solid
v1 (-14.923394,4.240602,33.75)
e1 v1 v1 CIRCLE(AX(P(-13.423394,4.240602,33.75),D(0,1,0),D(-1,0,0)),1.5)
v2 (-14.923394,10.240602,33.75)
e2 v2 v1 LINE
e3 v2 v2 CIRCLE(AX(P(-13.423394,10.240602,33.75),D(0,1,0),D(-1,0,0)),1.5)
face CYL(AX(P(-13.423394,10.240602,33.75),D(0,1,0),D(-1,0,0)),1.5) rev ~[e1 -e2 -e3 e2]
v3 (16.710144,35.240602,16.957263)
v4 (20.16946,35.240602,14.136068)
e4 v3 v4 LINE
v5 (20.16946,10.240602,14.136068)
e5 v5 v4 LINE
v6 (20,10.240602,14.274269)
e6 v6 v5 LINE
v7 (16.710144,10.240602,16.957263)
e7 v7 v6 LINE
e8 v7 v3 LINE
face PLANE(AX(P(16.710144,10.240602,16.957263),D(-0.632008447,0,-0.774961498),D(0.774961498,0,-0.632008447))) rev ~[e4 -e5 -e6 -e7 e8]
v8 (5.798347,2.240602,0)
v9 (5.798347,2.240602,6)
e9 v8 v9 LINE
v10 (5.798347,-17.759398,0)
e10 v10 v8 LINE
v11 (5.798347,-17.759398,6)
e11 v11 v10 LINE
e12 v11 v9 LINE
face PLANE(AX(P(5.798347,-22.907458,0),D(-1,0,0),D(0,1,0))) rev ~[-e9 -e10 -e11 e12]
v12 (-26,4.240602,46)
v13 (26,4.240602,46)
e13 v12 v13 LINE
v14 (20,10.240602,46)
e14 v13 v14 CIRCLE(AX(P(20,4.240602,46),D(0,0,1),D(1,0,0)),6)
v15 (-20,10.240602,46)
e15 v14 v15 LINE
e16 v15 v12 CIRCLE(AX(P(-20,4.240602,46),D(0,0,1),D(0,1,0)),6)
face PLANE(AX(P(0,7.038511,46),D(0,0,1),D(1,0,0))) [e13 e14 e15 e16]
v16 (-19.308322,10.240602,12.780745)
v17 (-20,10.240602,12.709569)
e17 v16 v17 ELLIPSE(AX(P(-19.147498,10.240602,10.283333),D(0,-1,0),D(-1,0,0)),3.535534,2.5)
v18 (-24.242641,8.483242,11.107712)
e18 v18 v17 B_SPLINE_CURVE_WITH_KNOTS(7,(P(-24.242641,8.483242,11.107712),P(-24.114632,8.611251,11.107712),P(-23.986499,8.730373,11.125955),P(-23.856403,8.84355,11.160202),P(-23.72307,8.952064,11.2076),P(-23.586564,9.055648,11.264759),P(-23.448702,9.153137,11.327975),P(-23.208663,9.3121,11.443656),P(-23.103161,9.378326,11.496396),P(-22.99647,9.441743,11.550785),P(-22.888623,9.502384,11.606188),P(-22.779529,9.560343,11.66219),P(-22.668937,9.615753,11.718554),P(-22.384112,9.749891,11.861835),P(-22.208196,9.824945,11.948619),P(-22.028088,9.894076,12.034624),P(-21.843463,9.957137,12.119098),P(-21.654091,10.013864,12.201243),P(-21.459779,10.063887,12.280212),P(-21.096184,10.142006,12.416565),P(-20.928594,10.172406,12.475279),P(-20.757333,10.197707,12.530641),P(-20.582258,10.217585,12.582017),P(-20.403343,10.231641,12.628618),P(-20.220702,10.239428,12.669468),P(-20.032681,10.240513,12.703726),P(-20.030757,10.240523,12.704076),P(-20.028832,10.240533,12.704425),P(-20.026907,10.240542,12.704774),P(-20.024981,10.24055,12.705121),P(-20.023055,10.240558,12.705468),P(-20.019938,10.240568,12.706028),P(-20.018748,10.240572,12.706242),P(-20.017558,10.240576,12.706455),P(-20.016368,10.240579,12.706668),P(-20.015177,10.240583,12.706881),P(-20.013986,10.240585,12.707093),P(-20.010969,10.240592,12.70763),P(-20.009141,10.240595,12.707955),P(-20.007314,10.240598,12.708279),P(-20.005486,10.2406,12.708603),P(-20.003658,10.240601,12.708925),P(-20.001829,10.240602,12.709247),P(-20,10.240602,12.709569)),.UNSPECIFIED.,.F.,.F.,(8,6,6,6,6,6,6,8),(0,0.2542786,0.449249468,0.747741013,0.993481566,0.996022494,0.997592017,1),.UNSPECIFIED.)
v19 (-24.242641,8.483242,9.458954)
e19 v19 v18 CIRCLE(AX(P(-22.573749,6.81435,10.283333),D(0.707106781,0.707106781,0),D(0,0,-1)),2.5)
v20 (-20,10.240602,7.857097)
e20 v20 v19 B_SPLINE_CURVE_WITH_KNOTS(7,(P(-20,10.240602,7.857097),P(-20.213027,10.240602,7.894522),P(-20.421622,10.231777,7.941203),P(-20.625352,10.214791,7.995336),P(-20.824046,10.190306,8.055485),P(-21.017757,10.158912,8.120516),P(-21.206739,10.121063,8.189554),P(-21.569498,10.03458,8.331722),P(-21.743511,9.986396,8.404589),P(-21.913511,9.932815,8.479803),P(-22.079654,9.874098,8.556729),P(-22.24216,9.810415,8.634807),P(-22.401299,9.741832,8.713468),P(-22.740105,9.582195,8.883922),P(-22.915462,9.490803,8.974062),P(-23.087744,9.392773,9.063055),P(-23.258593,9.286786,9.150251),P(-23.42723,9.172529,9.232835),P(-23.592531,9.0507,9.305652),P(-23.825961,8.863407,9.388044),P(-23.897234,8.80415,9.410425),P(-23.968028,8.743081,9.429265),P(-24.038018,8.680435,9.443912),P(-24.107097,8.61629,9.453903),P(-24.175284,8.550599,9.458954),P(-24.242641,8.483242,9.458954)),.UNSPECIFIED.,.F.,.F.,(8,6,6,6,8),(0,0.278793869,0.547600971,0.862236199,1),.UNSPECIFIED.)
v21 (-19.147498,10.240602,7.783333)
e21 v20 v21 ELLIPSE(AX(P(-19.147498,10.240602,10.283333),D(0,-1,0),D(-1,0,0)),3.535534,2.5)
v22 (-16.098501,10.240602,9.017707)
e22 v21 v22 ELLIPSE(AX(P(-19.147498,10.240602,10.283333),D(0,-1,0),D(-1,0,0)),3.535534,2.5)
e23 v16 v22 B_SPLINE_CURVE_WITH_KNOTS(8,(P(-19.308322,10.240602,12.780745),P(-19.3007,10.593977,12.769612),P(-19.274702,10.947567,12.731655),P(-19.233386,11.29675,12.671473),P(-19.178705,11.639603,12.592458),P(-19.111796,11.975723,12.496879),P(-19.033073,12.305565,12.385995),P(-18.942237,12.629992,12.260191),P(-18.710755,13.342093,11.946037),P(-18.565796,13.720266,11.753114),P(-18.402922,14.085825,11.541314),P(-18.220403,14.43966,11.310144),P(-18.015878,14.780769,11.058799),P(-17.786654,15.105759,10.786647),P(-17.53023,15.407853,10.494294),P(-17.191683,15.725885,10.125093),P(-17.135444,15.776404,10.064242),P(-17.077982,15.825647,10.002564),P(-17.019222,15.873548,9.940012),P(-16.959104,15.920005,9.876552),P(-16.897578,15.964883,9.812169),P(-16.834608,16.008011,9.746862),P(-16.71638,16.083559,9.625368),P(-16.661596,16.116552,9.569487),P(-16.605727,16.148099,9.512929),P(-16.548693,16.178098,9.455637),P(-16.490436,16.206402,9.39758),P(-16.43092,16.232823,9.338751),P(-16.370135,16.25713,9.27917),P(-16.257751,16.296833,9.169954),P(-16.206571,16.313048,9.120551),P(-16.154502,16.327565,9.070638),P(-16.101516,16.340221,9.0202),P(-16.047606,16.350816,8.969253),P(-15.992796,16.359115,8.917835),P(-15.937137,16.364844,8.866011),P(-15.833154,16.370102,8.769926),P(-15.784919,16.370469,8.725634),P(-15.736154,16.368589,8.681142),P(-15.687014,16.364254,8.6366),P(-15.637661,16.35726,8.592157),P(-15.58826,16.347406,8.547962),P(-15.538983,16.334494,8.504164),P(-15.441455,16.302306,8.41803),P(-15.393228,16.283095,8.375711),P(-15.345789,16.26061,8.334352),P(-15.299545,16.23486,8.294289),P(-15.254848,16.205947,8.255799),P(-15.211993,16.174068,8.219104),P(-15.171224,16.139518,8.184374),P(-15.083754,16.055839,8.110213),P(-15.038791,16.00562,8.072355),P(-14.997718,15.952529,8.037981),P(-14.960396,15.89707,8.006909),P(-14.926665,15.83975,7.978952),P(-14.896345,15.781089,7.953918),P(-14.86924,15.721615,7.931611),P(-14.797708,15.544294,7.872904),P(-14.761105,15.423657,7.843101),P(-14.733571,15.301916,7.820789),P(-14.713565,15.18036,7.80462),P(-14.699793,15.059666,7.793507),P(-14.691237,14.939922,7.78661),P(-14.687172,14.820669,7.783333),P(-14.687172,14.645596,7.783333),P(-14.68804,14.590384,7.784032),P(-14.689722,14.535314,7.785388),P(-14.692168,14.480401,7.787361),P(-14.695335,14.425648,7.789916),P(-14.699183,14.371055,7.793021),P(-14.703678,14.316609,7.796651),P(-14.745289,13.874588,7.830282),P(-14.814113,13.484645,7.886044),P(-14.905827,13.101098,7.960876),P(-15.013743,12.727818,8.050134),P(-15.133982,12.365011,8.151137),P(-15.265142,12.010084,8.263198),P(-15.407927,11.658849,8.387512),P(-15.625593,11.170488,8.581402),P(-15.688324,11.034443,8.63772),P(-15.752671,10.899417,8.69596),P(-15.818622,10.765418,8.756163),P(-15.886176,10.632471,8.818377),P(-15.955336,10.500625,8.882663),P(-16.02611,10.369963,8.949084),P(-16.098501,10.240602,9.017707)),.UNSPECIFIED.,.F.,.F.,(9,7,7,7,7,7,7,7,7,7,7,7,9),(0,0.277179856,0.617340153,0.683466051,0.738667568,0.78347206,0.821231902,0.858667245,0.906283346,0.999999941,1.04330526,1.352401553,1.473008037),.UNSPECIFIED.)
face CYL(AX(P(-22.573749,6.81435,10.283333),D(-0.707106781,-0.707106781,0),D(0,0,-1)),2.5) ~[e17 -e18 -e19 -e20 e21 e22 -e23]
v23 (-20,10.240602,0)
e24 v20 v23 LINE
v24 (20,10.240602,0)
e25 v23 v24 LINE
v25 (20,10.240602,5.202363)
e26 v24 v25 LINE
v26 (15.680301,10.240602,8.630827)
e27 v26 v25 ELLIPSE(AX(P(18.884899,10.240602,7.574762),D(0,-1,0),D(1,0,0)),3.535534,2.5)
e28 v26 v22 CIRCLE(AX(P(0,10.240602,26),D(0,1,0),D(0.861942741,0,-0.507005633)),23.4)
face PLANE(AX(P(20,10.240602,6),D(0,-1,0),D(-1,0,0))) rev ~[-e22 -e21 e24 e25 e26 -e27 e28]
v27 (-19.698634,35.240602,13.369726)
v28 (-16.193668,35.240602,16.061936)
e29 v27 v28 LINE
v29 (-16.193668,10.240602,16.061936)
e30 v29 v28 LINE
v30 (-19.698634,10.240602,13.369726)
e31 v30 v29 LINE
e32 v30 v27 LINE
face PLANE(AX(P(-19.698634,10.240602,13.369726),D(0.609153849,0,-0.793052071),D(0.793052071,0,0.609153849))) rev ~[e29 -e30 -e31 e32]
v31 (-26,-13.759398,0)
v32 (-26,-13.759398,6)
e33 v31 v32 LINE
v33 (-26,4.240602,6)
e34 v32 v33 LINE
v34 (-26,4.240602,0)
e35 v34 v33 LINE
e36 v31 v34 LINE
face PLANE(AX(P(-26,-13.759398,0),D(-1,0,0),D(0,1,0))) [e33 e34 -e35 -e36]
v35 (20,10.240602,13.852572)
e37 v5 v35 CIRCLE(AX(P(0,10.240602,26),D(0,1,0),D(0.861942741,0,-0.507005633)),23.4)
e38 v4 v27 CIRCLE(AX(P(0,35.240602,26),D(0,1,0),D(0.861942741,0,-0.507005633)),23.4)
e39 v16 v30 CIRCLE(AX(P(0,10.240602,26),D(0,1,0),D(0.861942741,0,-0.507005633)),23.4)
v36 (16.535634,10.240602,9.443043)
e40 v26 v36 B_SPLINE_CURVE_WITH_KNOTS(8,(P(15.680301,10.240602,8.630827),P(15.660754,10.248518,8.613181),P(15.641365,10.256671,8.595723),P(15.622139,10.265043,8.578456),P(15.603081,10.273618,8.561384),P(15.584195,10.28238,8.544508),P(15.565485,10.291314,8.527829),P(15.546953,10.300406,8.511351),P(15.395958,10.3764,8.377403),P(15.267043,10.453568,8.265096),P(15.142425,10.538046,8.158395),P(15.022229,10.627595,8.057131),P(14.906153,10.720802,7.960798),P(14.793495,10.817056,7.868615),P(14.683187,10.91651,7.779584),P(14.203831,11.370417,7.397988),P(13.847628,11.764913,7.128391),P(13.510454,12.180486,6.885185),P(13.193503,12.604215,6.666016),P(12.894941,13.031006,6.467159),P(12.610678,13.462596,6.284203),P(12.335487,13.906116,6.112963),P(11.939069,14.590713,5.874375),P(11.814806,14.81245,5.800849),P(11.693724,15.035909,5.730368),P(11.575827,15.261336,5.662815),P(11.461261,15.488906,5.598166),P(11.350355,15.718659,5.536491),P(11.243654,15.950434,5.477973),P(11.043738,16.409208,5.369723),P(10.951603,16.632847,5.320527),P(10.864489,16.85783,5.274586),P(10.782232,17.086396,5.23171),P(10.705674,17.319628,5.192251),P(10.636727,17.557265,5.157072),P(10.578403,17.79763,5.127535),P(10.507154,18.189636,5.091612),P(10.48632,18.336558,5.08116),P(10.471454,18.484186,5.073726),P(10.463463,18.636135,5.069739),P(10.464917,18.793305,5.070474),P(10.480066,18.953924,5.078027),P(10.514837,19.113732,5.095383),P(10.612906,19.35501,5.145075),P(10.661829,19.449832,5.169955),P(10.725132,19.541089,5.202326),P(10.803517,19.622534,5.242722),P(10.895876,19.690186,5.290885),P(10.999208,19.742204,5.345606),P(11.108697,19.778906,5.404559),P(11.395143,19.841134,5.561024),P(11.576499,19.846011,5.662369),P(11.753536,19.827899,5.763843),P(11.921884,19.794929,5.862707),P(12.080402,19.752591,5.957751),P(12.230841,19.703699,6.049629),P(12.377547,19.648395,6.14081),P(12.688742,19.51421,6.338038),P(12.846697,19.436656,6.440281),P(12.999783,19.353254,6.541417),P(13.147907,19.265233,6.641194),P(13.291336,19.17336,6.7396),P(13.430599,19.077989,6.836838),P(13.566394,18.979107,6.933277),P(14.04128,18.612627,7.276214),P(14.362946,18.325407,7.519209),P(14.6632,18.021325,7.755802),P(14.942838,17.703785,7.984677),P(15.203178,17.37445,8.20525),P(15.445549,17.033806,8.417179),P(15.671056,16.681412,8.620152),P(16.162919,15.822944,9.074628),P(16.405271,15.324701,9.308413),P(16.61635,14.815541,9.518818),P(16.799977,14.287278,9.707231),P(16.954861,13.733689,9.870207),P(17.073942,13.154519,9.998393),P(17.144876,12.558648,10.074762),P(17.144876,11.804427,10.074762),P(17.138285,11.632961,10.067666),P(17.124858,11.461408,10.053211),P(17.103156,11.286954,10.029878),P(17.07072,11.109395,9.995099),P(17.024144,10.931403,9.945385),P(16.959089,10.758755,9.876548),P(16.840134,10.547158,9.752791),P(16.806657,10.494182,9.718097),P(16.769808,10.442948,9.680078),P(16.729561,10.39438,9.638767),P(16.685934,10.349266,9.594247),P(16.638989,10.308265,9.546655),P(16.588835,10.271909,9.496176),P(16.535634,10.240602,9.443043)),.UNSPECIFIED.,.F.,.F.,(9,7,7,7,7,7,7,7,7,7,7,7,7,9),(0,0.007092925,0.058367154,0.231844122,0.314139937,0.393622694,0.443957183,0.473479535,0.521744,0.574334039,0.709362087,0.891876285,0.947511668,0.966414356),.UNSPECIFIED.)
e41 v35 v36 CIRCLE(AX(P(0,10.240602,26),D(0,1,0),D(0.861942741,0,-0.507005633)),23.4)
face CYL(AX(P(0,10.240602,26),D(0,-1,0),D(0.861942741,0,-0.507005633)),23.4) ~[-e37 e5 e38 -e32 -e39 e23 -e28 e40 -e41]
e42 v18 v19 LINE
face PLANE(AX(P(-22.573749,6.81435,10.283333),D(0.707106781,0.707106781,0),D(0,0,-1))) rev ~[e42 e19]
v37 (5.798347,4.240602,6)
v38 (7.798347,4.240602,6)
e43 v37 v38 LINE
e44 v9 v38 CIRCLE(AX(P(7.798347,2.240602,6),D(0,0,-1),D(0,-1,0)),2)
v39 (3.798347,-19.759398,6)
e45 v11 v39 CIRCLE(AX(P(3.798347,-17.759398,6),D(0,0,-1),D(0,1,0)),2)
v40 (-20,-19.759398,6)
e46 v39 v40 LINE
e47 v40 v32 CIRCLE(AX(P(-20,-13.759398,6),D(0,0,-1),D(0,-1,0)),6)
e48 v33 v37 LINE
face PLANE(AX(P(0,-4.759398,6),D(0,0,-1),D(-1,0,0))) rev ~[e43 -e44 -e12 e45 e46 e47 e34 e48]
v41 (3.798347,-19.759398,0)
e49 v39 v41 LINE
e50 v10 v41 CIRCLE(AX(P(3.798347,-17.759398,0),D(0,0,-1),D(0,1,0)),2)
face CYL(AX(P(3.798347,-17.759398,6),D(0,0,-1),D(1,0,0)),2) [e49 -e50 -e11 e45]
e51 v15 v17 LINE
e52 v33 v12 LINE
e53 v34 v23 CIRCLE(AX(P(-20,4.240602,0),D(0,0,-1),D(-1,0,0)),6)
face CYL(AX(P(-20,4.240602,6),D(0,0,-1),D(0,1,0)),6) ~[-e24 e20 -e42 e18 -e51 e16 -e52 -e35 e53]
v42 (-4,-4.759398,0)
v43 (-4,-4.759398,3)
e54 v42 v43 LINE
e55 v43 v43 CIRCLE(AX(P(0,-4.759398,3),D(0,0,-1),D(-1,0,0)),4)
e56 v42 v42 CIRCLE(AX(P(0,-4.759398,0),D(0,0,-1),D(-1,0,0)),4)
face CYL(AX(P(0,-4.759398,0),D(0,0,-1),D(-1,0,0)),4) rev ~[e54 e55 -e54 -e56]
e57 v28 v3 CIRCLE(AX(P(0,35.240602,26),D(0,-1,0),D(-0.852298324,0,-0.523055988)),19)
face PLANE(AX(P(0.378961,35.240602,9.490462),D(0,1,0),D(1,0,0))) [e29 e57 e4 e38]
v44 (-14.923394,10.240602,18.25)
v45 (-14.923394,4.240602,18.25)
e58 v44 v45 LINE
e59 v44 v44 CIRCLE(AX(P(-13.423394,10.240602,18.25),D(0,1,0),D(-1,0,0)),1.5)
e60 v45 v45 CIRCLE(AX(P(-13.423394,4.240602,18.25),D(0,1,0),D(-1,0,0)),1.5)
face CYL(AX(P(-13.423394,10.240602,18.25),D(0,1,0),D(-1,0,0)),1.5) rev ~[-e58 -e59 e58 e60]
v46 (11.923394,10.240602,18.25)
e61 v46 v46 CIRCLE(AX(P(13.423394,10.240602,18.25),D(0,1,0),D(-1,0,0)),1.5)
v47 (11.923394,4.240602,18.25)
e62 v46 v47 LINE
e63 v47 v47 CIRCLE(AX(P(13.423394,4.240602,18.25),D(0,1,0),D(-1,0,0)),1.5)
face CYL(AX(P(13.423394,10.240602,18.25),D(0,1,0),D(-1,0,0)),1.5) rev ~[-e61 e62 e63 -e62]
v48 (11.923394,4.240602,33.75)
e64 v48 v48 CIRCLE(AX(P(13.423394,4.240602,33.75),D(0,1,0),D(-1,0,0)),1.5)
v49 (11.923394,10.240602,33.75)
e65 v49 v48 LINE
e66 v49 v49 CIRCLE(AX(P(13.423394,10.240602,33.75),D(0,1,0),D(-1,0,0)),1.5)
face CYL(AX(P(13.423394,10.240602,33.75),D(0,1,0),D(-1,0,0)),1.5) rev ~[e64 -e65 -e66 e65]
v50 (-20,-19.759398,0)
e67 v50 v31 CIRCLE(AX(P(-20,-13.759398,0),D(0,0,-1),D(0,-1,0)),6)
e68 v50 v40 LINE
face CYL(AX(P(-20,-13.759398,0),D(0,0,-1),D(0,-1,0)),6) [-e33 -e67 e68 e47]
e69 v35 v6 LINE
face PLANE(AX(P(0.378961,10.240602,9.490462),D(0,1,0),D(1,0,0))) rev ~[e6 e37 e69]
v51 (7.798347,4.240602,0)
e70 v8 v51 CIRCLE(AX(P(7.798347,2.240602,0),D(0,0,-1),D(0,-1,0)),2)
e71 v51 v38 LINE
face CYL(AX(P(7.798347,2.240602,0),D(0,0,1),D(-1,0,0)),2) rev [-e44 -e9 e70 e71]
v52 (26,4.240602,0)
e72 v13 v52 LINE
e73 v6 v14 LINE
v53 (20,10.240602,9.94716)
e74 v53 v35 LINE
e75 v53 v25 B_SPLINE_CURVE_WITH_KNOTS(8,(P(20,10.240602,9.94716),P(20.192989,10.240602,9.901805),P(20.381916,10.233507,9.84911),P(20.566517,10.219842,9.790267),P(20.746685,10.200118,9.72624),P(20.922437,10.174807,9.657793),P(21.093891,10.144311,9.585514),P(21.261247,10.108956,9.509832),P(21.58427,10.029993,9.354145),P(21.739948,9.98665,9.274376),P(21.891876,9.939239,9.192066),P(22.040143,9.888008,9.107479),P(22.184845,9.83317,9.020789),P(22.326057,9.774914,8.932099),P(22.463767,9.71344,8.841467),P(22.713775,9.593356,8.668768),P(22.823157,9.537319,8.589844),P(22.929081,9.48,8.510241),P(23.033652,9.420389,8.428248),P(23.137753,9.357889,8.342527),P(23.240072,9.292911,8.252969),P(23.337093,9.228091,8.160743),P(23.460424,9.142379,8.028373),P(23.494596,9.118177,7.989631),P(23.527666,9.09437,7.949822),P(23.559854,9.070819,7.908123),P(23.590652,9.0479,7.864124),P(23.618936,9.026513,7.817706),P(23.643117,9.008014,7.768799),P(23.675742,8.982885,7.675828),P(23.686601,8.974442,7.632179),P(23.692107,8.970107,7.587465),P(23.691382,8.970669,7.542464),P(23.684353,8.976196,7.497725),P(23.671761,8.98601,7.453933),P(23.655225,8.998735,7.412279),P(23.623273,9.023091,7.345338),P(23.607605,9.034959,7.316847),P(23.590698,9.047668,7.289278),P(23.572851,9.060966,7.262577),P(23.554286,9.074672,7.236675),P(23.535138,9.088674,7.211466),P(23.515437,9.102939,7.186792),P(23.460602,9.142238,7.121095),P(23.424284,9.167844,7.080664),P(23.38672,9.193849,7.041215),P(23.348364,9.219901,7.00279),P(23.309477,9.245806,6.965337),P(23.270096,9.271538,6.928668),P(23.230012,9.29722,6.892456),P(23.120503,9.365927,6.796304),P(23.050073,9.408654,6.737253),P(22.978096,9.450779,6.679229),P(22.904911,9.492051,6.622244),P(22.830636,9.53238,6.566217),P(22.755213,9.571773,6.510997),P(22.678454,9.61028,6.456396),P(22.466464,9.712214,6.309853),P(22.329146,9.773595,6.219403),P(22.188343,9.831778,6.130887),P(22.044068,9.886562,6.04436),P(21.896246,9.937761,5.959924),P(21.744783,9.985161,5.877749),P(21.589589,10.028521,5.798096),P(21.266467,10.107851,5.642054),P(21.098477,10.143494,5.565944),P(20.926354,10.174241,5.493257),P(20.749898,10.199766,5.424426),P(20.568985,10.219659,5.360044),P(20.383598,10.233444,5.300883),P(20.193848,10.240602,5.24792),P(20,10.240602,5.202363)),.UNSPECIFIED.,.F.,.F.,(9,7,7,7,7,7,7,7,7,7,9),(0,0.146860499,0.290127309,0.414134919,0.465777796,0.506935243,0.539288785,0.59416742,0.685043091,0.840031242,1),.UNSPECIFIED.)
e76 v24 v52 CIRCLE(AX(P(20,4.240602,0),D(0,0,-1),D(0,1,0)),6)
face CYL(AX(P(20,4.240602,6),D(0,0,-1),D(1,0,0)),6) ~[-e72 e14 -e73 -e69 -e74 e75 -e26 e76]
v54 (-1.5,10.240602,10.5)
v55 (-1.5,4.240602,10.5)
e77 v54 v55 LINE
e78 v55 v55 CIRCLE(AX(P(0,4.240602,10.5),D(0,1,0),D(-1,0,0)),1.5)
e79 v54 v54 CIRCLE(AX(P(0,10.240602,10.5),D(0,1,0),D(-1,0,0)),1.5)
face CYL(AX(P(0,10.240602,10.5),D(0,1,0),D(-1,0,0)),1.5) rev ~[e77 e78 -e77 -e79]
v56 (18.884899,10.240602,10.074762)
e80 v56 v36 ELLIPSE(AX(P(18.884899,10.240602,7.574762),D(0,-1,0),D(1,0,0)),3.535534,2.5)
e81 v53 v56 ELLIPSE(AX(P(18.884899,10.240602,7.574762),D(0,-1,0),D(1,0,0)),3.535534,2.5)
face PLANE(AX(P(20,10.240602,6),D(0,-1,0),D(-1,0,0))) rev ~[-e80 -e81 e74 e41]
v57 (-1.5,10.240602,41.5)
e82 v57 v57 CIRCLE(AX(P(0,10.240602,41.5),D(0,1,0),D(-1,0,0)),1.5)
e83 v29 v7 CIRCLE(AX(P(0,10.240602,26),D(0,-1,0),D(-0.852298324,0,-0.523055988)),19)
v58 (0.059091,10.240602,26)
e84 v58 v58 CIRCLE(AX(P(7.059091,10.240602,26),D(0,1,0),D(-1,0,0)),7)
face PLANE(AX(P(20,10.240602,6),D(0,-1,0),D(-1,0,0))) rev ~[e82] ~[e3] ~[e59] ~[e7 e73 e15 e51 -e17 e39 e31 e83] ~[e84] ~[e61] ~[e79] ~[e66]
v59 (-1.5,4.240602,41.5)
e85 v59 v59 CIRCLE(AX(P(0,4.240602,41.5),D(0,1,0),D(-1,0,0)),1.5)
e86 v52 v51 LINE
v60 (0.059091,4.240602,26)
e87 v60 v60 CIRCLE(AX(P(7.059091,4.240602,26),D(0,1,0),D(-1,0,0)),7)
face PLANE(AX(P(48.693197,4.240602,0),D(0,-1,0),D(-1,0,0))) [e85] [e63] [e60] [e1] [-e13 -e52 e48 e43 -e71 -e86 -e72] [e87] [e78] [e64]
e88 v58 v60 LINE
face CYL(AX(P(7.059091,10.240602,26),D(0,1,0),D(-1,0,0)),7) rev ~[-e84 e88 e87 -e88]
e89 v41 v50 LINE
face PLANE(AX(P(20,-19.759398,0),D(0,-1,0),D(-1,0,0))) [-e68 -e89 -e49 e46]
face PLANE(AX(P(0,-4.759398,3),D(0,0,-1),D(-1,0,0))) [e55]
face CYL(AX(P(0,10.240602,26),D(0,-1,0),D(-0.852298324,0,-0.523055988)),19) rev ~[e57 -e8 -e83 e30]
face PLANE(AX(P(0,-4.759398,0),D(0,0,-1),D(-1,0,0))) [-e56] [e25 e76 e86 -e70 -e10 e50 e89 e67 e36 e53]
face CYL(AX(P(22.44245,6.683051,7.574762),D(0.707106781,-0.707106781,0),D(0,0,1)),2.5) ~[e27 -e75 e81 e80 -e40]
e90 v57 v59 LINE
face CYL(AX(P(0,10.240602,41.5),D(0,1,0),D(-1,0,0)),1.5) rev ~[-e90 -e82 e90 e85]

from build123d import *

# Parameters (mm, degrees)
BOSS_EXTRUDE1_DEPTH      = 6
BOSS_EXTRUDE2_DEPTH      = 40
CUT_EXTRUDE1_REACH       = 62.762
SKETCH9_R                = 1.5
CUT_EXTRUDE2_REACH       = 62.762
SKETCH10_R               = 7
BOSS_EXTRUDE4_DEPTH      = 25
BOSS_EXTRUDE5_REACH      = 73.576
BOSS_EXTRUDE5_END_RADIUS = 23.4
SKETCH12_R               = 2.5
BOSS_EXTRUDE6_REACH      = 73.576
SKETCH14_R               = 2.5
SKETCH15_W               = 42.894850158
SKETCH15_H               = 27.148059605
CUT_EXTRUDE3_DEPTH       = 6
FILLET1_R                = 2
SKETCH7_R                = 4
CUT_EXTRUDE4_DEPTH       = 3


with BuildPart() as part:
    # Sketch3 → Boss-Extrude1 (new body)
    with BuildSketch(Plane.XY):
        with BuildLine():
            Line((-20, 10.240601504), (20, 10.240601504))
            ThreePointArc((20, 10.240601504), (24.242640687, 8.483242191), (26, 4.240601504))
            Line((26, 4.240601504), (26, -13.759398496))
            ThreePointArc((26, -13.759398496), (24.242640687, -18.002039183), (20, -19.759398496))
            Line((20, -19.759398496), (-20, -19.759398496))
            ThreePointArc((-20, -19.759398496), (-24.242640687, -18.002039183), (-26, -13.759398496))
            Line((-26, -13.759398496), (-26, 4.240601504))
            ThreePointArc((-26, 4.240601504), (-24.242640687, 8.483242191), (-20, 10.240601504))
        make_face()
    extrude(amount=BOSS_EXTRUDE1_DEPTH)

    # Sketch4 → Boss-Extrude2 (add)
    with BuildSketch(Plane.XY.offset(6)):
        with BuildLine():
            Line((-26, 4.240601504), (26, 4.240601504))
            ThreePointArc((26, 4.240601504), (24.242640687, 8.483242191), (20, 10.240601504))
            Line((20, 10.240601504), (-20, 10.240601504))
            ThreePointArc((-20, 10.240601504), (-24.242640687, 8.483242191), (-26, 4.240601504))
        make_face()
    extrude(amount=BOSS_EXTRUDE2_DEPTH)

    # Sketch9 → Cut-Extrude1 (cut, up to next)
    with BuildSketch(Plane(origin=(0, 10.240601504, 0), x_dir=(1, 0, 0), z_dir=(0, 1, 0)), mode=Mode.PRIVATE) as cut_extrude1_sk1:
        with Locations(Location((0, -41.5, 0), (0, 0, 180))):
            Circle(SKETCH9_R)
    cut_extrude1_tool1 = extrude(cut_extrude1_sk1.sketch, amount=-CUT_EXTRUDE1_REACH, mode=Mode.PRIVATE) & part.part
    # Sketch9 → Cut-Extrude1 (cut, up to next)
    with BuildSketch(Plane(origin=(0, 10.240601504, 0), x_dir=(1, 0, 0), z_dir=(0, 1, 0)), mode=Mode.PRIVATE) as cut_extrude1_sk2:
        with Locations(Location((13.423393759, -33.75, 0), (0, 0, 180))):
            Circle(SKETCH9_R)
    cut_extrude1_tool2 = extrude(cut_extrude1_sk2.sketch, amount=-CUT_EXTRUDE1_REACH, mode=Mode.PRIVATE) & part.part
    # Sketch9 → Cut-Extrude1 (cut, up to next)
    with BuildSketch(Plane(origin=(0, 10.240601504, 0), x_dir=(1, 0, 0), z_dir=(0, 1, 0)), mode=Mode.PRIVATE) as cut_extrude1_sk3:
        with Locations(Location((-13.423393759, -33.75, 0), (0, 0, 180))):
            Circle(SKETCH9_R)
    cut_extrude1_tool3 = extrude(cut_extrude1_sk3.sketch, amount=-CUT_EXTRUDE1_REACH, mode=Mode.PRIVATE) & part.part
    # Sketch9 → Cut-Extrude1 (cut, up to next)
    with BuildSketch(Plane(origin=(0, 10.240601504, 0), x_dir=(1, 0, 0), z_dir=(0, 1, 0)), mode=Mode.PRIVATE) as cut_extrude1_sk4:
        with Locations(Location((-13.423393759, -18.25, 0), (0, 0, 180))):
            Circle(SKETCH9_R)
    cut_extrude1_tool4 = extrude(cut_extrude1_sk4.sketch, amount=-CUT_EXTRUDE1_REACH, mode=Mode.PRIVATE) & part.part
    # Sketch9 → Cut-Extrude1 (cut, up to next)
    with BuildSketch(Plane(origin=(0, 10.240601504, 0), x_dir=(1, 0, 0), z_dir=(0, 1, 0)), mode=Mode.PRIVATE) as cut_extrude1_sk5:
        with Locations(Location((0, -10.5, 0), (0, 0, 180))):
            Circle(SKETCH9_R)
    cut_extrude1_tool5 = extrude(cut_extrude1_sk5.sketch, amount=-CUT_EXTRUDE1_REACH, mode=Mode.PRIVATE) & part.part
    # Sketch9 → Cut-Extrude1 (cut, up to next)
    with BuildSketch(Plane(origin=(0, 10.240601504, 0), x_dir=(1, 0, 0), z_dir=(0, 1, 0)), mode=Mode.PRIVATE) as cut_extrude1_sk6:
        with Locations(Location((13.423393759, -18.25, 0), (0, 0, 180))):
            Circle(SKETCH9_R)
    cut_extrude1_tool6 = extrude(cut_extrude1_sk6.sketch, amount=-CUT_EXTRUDE1_REACH, mode=Mode.PRIVATE) & part.part
    add(cut_extrude1_tool1.solids().sort_by_distance((0, 10.240602, 41.5))[0], mode=Mode.SUBTRACT)
    add(cut_extrude1_tool2.solids().sort_by_distance((13.423394, 10.240602, 33.75))[0], mode=Mode.SUBTRACT)
    add(cut_extrude1_tool3.solids().sort_by_distance((-13.423394, 10.240602, 33.75))[0], mode=Mode.SUBTRACT)
    add(cut_extrude1_tool4.solids().sort_by_distance((-13.423394, 10.240602, 18.25))[0], mode=Mode.SUBTRACT)
    add(cut_extrude1_tool5.solids().sort_by_distance((0, 10.240602, 10.5))[0], mode=Mode.SUBTRACT)
    add(cut_extrude1_tool6.solids().sort_by_distance((13.423394, 10.240602, 18.25))[0], mode=Mode.SUBTRACT)

    # Sketch10 → Cut-Extrude2 (cut, up to next)
    with BuildSketch(Plane(origin=(0, 10.240601504, 0), x_dir=(1, 0, 0), z_dir=(0, 1, 0)), mode=Mode.PRIVATE) as cut_extrude2_sk1:
        with Locations(Location((7.059090501, -26, 0), (0, 0, 180))):
            Circle(SKETCH10_R)
    cut_extrude2_tool1 = extrude(cut_extrude2_sk1.sketch, amount=-CUT_EXTRUDE2_REACH, mode=Mode.PRIVATE) & part.part
    add(cut_extrude2_tool1.solids().sort_by_distance((7.059091, 10.240602, 26))[0], mode=Mode.SUBTRACT)

    # Sketch11 → Boss-Extrude4 (add)
    with BuildSketch(Plane(origin=(0, 10.240601504, 0), x_dir=(1, 0, 0), z_dir=(0, 1, 0))):
        with BuildLine():
            Line((16.710143733, -16.95726278), (20.169460133, -14.136068192))
            ThreePointArc((20.169460133, -14.136068192), (0.449710611, -2.604321759), (-19.698633669, -13.369725595))
            Line((-19.698633669, -13.369725595), (-16.193668166, -16.061936238))
            ThreePointArc((-16.193668166, -16.061936238), (0.516806692, -7.007029963), (16.710143733, -16.95726278))
        make_face()
    extrude(amount=BOSS_EXTRUDE4_DEPTH)

    # Boss-Extrude5: up to this cylinder (the profile starts outside it)
    boss_extrude5_end = Plane(origin=(0, 6.683051, 26), z_dir=(0, -1, 0)) * Cylinder(BOSS_EXTRUDE5_END_RADIUS, 194.952, mode=Mode.PRIVATE)
    # Sketch12 → Boss-Extrude5 (add, up to the surface)
    with BuildSketch(Plane(origin=(7.879699248, -7.879699248, 0), x_dir=(0, 0, 1), z_dir=(-0.7071067811865489, 0.7071067811865462, 0)), mode=Mode.PRIVATE) as boss_extrude5_sk1:
        with Locations((7.574761701, 20.594839086)):
            Circle(SKETCH12_R)
    boss_extrude5_tool1 = extrude(boss_extrude5_sk1.sketch, amount=BOSS_EXTRUDE5_REACH, mode=Mode.PRIVATE) - boss_extrude5_end
    add(boss_extrude5_tool1.solids().sort_by_distance((22.44245, 6.683051, 7.574762))[0])

    # Sketch14 → Boss-Extrude6 (add, up to next)
    with BuildSketch(Plane(origin=(-7.879699248, -7.879699248, 0), x_dir=(0, 0, -1), z_dir=(0.7071067811865487, 0.7071067811865465, 0)), mode=Mode.PRIVATE) as boss_extrude6_sk1:
        with Locations((-10.283332747, 20.780524406)):
            Circle(SKETCH14_R)
    boss_extrude6_tool1 = extrude(boss_extrude6_sk1.sketch, amount=BOSS_EXTRUDE6_REACH, mode=Mode.PRIVATE) - part.part
    add(boss_extrude6_tool1.solids().sort_by_distance((-22.573749, 6.81435, 10.283333))[0])

    # Sketch15 → Cut-Extrude3 (cut)
    with BuildSketch(Plane(origin=(0, 0, 0), x_dir=(-1, 0, 0), z_dir=(0, 0, -1))):
        with Locations((-27.245771634, -9.333428299)):
            Rectangle(SKETCH15_W, SKETCH15_H)
    extrude(amount=-CUT_EXTRUDE3_DEPTH, mode=Mode.SUBTRACT)

    # Fillet1
    fillet1_edges = [part.edges().sort_by_distance(p)[0] for p in [
        (5.798346555, -19.759398496, 3),
        (5.798346555, 4.240601504, 3),
    ]]
    fillet(fillet1_edges, radius=FILLET1_R)

    # Sketch7 → Cut-Extrude4 (cut)
    with BuildSketch(Plane(origin=(0, 0, 0), x_dir=(-1, 0, 0), z_dir=(0, 0, -1))):
        with Locations((0, -4.759398496)):
            Circle(SKETCH7_R)
    extrude(amount=-CUT_EXTRUDE4_DEPTH, mode=Mode.SUBTRACT)


solid = part.part
